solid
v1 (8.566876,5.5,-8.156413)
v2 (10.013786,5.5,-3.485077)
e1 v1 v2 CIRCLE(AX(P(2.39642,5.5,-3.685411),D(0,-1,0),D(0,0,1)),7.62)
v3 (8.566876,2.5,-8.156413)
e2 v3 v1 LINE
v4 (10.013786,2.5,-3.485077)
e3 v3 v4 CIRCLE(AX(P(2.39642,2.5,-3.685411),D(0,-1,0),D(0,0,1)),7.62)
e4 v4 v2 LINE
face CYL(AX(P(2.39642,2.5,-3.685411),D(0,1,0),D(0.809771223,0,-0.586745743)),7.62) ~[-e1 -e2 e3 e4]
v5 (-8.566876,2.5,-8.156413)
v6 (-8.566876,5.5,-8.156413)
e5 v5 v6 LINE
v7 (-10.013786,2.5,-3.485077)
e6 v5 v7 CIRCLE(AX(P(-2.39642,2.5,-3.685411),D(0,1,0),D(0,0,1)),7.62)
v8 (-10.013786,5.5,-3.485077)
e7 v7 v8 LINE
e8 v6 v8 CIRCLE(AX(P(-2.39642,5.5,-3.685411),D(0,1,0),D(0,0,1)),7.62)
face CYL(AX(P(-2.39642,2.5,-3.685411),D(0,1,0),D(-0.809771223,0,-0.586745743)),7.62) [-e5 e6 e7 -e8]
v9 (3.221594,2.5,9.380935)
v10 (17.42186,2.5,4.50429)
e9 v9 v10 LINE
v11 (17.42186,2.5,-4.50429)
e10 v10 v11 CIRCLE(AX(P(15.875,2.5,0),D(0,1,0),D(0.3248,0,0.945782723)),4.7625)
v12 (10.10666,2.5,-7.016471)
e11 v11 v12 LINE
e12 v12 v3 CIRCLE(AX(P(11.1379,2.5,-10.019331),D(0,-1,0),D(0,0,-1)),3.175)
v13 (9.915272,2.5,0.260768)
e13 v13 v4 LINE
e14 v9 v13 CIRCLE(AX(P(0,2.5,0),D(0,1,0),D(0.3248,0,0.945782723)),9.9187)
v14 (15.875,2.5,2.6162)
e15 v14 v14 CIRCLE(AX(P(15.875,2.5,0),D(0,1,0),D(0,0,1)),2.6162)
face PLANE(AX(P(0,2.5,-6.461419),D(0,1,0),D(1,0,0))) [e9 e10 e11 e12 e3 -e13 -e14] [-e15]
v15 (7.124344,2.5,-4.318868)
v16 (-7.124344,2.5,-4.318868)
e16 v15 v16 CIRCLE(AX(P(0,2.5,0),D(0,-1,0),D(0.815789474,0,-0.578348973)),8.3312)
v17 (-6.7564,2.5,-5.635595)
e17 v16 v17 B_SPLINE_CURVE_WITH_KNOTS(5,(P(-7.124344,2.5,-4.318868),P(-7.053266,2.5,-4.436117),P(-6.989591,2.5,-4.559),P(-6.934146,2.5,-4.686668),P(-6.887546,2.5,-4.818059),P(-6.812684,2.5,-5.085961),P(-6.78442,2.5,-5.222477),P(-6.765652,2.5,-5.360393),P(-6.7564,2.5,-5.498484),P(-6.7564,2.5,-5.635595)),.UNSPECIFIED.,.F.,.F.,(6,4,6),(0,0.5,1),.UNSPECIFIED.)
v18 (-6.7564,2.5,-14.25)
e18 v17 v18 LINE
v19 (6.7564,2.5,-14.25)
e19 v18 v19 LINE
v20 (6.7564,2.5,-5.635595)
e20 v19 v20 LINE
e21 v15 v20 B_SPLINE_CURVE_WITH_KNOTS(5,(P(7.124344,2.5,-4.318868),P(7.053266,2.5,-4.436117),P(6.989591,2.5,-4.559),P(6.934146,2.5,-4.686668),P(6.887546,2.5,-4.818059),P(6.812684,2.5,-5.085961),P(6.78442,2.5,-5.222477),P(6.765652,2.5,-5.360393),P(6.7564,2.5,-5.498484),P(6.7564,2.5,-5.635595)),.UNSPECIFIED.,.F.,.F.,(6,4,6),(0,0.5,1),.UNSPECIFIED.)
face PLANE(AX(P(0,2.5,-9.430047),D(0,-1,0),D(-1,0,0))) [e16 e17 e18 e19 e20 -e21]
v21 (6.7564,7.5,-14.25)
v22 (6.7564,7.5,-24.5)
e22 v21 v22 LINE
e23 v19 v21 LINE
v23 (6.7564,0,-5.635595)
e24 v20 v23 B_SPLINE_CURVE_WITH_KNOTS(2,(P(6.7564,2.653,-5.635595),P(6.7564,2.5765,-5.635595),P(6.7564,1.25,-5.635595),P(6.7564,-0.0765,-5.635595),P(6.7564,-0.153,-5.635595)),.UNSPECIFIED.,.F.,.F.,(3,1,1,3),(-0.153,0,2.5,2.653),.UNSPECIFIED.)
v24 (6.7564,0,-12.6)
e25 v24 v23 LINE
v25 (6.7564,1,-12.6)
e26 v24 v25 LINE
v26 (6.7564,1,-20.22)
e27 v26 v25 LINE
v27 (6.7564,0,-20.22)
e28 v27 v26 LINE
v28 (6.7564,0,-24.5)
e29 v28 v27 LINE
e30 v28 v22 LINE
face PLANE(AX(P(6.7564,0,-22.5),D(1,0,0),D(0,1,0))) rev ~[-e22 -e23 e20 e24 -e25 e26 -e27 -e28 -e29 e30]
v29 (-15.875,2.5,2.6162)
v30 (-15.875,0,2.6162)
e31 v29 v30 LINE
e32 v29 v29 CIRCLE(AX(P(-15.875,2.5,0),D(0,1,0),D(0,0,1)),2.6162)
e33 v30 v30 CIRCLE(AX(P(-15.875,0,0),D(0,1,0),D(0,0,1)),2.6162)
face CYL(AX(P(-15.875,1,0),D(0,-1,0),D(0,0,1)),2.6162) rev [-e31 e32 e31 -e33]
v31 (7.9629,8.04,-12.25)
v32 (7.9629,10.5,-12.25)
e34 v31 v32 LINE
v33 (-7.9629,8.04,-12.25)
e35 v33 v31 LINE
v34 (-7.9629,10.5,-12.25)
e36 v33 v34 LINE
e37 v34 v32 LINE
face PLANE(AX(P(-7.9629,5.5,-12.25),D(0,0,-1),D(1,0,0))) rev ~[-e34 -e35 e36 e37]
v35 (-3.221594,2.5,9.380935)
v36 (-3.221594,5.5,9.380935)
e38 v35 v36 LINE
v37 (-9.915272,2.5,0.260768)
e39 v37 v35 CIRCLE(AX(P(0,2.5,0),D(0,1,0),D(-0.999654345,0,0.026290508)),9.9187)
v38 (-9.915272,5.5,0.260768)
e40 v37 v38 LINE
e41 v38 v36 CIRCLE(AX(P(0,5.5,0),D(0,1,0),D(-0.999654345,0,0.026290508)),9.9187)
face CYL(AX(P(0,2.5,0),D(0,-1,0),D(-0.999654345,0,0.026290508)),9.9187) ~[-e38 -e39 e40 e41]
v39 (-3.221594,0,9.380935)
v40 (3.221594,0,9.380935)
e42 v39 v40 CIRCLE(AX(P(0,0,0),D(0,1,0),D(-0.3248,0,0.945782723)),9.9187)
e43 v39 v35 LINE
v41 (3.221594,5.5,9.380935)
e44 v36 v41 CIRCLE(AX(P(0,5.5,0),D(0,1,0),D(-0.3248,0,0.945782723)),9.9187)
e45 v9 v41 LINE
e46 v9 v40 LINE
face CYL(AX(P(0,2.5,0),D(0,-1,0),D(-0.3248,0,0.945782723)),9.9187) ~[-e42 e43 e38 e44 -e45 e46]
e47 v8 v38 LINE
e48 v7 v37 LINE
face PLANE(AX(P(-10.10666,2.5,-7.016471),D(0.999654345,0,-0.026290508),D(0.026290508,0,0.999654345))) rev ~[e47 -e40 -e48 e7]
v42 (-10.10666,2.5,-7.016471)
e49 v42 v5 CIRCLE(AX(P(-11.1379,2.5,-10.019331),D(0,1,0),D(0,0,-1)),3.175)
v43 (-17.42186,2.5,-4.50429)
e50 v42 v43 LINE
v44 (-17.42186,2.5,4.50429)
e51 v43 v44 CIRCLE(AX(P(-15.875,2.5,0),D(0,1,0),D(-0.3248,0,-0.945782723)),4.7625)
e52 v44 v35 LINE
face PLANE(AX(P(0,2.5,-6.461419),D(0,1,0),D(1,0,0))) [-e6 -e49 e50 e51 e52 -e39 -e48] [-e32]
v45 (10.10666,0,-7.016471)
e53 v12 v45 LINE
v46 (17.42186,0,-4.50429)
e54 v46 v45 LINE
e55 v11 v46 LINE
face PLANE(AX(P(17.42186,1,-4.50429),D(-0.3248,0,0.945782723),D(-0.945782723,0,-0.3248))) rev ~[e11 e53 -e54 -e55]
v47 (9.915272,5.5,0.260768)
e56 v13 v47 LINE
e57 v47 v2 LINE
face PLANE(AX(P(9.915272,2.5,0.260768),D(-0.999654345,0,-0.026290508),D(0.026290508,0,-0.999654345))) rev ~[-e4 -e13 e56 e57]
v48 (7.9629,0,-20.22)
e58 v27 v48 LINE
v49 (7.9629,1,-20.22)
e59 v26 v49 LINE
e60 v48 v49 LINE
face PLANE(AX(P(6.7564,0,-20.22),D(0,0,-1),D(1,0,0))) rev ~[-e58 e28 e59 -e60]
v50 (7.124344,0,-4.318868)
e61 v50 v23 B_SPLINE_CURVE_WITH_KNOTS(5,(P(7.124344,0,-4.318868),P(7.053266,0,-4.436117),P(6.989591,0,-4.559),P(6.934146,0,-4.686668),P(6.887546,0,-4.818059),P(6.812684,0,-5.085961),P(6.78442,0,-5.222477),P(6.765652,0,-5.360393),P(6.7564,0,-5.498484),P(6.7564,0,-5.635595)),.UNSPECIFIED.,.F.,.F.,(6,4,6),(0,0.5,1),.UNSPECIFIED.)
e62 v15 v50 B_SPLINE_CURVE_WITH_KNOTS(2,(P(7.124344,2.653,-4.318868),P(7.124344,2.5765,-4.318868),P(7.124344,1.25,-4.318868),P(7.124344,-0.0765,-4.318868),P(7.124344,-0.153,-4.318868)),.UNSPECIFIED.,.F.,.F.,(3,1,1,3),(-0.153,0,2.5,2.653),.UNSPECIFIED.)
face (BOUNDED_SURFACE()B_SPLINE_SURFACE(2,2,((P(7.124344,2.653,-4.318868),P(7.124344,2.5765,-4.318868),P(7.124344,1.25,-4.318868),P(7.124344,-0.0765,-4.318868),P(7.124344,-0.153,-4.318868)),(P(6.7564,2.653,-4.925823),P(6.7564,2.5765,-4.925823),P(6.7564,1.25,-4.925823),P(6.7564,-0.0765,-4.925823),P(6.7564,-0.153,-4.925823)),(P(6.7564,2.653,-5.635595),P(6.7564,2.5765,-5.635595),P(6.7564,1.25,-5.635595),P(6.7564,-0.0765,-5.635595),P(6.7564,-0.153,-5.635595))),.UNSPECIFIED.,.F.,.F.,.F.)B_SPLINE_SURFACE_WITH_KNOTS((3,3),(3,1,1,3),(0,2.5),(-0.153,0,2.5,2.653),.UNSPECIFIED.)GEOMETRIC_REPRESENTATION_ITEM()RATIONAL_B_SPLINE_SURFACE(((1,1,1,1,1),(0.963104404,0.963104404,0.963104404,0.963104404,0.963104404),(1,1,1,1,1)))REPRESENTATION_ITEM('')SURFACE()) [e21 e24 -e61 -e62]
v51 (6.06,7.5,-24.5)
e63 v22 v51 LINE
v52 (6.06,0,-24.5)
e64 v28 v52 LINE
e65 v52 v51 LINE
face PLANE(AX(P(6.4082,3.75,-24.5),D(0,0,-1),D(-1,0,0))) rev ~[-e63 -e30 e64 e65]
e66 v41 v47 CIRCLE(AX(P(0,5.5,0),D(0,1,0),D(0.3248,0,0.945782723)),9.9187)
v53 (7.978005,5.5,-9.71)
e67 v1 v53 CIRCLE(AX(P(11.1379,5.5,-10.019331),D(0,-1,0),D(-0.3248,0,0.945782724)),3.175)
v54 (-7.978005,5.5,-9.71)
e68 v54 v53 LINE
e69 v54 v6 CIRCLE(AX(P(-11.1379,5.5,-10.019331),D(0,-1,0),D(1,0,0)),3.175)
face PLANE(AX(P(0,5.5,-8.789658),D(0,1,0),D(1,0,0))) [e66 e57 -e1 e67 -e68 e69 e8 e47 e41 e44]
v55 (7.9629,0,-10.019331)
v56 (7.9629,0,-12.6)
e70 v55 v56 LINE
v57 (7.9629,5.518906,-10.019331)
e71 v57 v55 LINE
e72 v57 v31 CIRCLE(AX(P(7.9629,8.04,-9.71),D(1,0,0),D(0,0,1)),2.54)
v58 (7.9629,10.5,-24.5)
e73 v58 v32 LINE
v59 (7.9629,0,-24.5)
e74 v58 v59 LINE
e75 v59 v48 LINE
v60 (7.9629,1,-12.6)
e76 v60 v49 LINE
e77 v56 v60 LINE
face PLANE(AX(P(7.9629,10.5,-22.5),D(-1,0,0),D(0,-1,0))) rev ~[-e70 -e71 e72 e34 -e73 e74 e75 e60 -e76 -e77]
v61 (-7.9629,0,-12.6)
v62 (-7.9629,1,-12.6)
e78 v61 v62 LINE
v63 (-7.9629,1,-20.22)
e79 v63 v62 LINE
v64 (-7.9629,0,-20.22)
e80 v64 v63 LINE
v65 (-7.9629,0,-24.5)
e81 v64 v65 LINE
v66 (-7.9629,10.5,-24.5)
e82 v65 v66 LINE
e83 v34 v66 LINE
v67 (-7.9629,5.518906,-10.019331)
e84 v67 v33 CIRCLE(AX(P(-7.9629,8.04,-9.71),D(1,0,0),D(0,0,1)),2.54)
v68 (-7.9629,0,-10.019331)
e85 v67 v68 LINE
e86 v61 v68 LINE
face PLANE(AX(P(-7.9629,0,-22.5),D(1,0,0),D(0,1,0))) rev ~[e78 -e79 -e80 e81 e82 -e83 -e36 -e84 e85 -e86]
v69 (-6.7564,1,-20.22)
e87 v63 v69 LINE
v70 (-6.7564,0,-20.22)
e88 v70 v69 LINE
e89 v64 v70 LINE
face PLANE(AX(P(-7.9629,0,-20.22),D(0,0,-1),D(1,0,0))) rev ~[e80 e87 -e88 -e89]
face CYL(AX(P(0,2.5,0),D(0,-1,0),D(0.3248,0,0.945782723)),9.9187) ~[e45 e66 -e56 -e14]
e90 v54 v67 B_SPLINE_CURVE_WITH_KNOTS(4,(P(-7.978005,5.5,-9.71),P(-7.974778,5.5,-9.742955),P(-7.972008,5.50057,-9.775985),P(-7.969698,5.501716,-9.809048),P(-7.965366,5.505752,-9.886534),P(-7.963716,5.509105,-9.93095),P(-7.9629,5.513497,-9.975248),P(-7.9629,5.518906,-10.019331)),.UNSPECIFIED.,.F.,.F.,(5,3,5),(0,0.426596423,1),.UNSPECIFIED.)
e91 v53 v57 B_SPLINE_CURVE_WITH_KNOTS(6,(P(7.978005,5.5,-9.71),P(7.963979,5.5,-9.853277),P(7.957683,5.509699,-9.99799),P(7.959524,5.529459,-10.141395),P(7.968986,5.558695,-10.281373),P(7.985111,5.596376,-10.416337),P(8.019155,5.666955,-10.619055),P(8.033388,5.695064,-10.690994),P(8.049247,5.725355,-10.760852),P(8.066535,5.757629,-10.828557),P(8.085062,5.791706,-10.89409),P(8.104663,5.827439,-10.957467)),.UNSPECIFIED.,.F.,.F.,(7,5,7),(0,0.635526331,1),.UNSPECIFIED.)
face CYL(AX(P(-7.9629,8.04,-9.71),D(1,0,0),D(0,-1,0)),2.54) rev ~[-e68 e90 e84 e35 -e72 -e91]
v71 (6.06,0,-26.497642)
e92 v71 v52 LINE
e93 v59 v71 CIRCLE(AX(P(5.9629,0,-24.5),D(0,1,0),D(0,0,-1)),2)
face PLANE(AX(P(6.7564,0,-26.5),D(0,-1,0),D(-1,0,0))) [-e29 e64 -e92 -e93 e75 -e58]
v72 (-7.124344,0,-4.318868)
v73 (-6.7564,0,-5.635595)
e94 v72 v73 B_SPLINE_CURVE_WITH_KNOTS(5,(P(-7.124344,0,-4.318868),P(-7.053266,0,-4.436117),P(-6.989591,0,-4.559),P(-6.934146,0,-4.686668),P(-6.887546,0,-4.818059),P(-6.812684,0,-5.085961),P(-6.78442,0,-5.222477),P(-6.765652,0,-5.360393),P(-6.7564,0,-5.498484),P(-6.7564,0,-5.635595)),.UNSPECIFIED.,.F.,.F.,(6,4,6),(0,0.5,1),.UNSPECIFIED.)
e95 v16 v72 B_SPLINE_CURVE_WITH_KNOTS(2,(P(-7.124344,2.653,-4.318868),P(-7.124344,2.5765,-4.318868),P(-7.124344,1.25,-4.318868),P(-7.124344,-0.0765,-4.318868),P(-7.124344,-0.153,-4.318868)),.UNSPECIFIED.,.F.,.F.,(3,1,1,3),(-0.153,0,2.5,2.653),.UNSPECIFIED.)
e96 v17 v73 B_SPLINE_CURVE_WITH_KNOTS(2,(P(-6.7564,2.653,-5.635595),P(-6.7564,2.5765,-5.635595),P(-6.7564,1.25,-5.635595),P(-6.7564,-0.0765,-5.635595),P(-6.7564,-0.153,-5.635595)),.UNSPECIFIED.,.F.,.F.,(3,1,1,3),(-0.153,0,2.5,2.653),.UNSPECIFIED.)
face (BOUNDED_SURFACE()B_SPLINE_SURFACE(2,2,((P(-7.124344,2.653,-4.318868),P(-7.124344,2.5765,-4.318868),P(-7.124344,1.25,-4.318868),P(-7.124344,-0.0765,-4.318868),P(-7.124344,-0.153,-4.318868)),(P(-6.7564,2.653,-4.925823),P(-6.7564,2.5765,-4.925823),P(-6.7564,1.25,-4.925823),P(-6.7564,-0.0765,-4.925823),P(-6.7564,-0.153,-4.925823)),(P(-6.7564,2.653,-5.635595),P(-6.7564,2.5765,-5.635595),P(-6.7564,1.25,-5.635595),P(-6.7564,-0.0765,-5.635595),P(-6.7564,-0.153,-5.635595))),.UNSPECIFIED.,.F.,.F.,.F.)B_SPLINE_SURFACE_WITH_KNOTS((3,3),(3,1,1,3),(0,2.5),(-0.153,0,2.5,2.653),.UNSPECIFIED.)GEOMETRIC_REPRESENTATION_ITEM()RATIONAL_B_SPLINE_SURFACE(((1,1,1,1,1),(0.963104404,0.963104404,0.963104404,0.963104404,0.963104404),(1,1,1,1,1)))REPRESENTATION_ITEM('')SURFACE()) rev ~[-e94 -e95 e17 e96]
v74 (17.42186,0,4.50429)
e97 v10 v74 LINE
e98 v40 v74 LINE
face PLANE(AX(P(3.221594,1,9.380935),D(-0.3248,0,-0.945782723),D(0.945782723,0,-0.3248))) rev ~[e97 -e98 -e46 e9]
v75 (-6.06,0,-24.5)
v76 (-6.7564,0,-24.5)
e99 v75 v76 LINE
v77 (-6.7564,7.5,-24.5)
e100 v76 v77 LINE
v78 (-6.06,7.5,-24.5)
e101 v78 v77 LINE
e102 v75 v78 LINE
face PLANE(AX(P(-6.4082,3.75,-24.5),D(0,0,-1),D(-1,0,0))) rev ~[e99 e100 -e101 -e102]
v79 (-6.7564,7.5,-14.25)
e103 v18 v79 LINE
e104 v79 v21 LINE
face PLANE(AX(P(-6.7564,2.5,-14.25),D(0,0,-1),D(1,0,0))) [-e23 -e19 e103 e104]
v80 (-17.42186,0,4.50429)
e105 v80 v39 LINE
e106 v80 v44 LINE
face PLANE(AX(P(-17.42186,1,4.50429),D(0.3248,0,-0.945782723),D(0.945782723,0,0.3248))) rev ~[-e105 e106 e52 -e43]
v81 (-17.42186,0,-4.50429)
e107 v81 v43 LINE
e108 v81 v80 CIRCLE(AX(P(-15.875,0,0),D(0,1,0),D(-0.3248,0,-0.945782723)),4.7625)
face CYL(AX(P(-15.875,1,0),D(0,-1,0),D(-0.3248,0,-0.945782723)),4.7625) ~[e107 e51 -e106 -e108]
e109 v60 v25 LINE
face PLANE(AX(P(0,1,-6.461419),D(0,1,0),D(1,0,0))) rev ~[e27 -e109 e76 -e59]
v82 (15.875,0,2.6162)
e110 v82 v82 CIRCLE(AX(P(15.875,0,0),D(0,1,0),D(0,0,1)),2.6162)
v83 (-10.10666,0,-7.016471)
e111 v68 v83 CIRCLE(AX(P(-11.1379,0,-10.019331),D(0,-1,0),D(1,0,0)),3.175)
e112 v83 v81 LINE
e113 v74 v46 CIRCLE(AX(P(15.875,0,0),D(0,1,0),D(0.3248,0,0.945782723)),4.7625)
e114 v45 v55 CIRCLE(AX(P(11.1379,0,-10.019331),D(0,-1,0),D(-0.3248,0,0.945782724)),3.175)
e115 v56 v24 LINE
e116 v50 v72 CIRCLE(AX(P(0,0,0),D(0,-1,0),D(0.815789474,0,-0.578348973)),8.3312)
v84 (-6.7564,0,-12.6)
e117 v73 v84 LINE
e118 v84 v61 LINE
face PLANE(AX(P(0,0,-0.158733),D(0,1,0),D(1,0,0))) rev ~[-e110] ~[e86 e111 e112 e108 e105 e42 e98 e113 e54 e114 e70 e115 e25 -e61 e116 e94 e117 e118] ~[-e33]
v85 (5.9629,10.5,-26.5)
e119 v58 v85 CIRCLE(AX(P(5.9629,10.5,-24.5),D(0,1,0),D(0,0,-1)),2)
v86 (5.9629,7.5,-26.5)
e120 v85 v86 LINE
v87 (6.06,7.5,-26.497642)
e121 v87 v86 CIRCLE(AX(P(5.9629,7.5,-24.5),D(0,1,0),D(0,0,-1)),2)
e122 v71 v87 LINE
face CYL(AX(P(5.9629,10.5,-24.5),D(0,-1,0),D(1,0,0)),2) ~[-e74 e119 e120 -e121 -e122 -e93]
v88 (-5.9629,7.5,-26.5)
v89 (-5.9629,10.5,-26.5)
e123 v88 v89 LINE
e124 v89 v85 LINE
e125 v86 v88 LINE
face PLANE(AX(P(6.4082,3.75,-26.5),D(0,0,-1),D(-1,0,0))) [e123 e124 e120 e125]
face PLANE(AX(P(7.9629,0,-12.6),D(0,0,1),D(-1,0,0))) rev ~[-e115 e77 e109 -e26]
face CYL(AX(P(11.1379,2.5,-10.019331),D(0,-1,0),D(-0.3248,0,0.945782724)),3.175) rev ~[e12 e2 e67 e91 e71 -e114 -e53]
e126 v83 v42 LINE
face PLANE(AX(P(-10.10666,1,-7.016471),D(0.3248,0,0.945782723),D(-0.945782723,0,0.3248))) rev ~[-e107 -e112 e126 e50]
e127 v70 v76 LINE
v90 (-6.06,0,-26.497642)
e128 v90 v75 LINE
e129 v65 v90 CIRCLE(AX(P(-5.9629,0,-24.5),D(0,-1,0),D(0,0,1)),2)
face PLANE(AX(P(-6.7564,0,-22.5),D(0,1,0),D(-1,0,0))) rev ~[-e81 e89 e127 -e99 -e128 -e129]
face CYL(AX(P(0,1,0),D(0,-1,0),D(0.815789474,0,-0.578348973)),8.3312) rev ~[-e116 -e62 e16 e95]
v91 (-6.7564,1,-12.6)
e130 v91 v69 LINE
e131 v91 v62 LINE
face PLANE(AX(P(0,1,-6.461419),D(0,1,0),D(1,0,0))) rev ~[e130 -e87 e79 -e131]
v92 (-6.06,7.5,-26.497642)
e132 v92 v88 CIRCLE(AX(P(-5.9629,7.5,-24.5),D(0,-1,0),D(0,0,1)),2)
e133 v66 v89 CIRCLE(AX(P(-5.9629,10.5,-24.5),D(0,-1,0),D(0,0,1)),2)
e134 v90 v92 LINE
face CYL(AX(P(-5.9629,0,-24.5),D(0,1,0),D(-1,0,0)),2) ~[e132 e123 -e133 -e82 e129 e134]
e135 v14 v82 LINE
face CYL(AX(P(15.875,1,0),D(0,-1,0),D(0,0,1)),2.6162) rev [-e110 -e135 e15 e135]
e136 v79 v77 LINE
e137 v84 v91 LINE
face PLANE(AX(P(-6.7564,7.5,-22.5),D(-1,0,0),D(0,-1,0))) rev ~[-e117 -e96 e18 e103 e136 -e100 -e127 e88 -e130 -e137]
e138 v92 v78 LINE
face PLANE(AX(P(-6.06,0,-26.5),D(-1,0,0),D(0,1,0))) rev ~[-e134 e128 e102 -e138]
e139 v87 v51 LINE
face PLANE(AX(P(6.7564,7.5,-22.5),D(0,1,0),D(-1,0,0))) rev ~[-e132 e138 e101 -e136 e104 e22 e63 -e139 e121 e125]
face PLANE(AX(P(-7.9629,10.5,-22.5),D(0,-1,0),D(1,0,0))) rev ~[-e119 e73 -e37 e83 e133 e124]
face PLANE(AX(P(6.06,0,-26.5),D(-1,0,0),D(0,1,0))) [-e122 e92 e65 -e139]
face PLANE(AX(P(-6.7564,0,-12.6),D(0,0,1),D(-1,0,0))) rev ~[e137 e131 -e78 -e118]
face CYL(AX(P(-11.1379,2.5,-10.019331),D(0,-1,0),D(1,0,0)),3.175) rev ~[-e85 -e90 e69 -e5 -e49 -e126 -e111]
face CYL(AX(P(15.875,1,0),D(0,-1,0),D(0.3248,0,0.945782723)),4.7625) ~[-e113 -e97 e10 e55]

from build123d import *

# Parameters (mm, degrees)
BOSS_EXTRUDE1_DEPTH   = 1
SKETCH3_R             = 2.6162
BOSS_EXTRUDE1_2_DEPTH = 1
SKETCH4_R             = 2.6162
BOSS_EXTRUDE2_DEPTH   = 1.5
BOSS_EXTRUDE3_DEPTH   = 3
SKETCH6_W             = 15.9258
SKETCH6_H             = 13.25
BOSS_EXTRUDE4_DEPTH   = 5
SKETCH7_W             = 13.5128
SKETCH7_H             = 10
CUT_EXTRUDE1_DEPTH    = 5
FILLET1_R             = 2.54
FILLET2_R             = 2.54
FILLET3_R             = 7.62
FILLET5_R             = 2.54
SKETCH8_W             = 15.9258
SKETCH8_H             = 10.5
CUT_EXTRUDE2_DEPTH    = 3
BOSS_EXTRUDE5_DEPTH   = 4
SKETCH10_W            = 0.6964
SKETCH10_H            = 7.5
BOSS_EXTRUDE6_DEPTH   = 2
FILLET8_R             = 2


with BuildPart() as part:
    # Sketch3 → Boss-Extrude1 (new body)
    with BuildSketch(Plane(origin=(0, 0, 0), x_dir=(1, 0, 0), z_dir=(0, 1, 0))):
        Polygon((6.7564, 24.25), (6.7564, 20.22), (7.9629, 20.22), (7.9629, 25.5), (-7.9629, 25.5), (-7.9629, 20.22), (-6.7564, 20.22), (-6.7564, 24.25), align=None)
    extrude(amount=BOSS_EXTRUDE1_DEPTH)



with BuildPart() as body_2:
    # Sketch3 → Boss-Extrude1 2 (new body)
    with BuildSketch(Plane(origin=(0, 0, 0), x_dir=(1, 0, 0), z_dir=(0, 1, 0))):
        with BuildLine():
            Line((6.7564, 12.6), (6.7564, 4.876812672))
            ThreePointArc((6.7564, 4.876812672), (6.776225919, 4.847421317), (6.796505263, 4.818340964))
            ThreePointArc((6.796505263, 4.818340964), (0, -8.3312), (-6.796505263, 4.818340964))
            ThreePointArc((-6.796505263, 4.818340964), (-6.776225919, 4.847421317), (-6.7564, 4.876812672))
            Line((-6.7564, 4.876812672), (-6.7564, 12.6))
            Line((-6.7564, 12.6), (-7.9629, 12.6))
            Line((-7.9629, 12.6), (-7.9629, 10.019330915))
            ThreePointArc((-7.9629, 10.019330915), (-8.553832276, 8.174549356), (-10.10666, 7.016470768))
            Line((-10.10666, 7.016470768), (-17.42186, 4.50429022))
            ThreePointArc((-17.42186, 4.50429022), (-20.6375, 0), (-17.42186, -4.50429022))
            Line((-17.42186, -4.50429022), (-3.22159376, -9.380935099))
            ThreePointArc((-3.22159376, -9.380935099), (0, -9.9187), (3.22159376, -9.380935099))
            Line((3.22159376, -9.380935099), (17.42186, -4.50429022))
            ThreePointArc((17.42186, -4.50429022), (20.6375, 0), (17.42186, 4.50429022))
            Line((17.42186, 4.50429022), (10.10666, 7.016470768))
            ThreePointArc((10.10666, 7.016470768), (8.553832276, 8.174549356), (7.9629, 10.019330915))
            Line((7.9629, 10.019330915), (7.9629, 12.6))
            Line((7.9629, 12.6), (6.7564, 12.6))
        make_face()
        with Locations(Location((-15.875, 0, 0), (0, 0, 270))):
            Circle(SKETCH3_R, mode=Mode.SUBTRACT)
        with Locations(Location((15.875, 0, 0), (0, 0, 270))):
            Circle(SKETCH3_R, mode=Mode.SUBTRACT)
    extrude(amount=BOSS_EXTRUDE1_2_DEPTH)


with BuildPart() as part_1:
    add(part.part)

    add(body_2.part)  # Boss-Extrude2 merges body 2
    # Sketch4 → Boss-Extrude2 (add)
    with BuildSketch(Plane(origin=(0, 1, 0), x_dir=(1, 0, 0), z_dir=(0, 1, 0))):
        with BuildLine():
            Line((7.9629, 20.22), (7.9629, 25.5))
            Line((7.9629, 25.5), (-7.9629, 25.5))
            Line((-7.9629, 25.5), (-7.9629, 20.22))
            Line((-7.9629, 20.22), (-7.9629, 12.6))
            Line((-7.9629, 12.6), (-7.9629, 10.019330915))
            ThreePointArc((-7.9629, 10.019330915), (-8.553832276, 8.174549356), (-10.10666, 7.016470768))
            Line((-10.10666, 7.016470768), (-17.42186, 4.50429022))
            ThreePointArc((-17.42186, 4.50429022), (-20.6375, 0), (-17.42186, -4.50429022))
            Line((-17.42186, -4.50429022), (-3.22159376, -9.380935099))
            ThreePointArc((-3.22159376, -9.380935099), (0, -9.9187), (3.22159376, -9.380935099))
            Line((3.22159376, -9.380935099), (17.42186, -4.50429022))
            ThreePointArc((17.42186, -4.50429022), (20.6375, 0), (17.42186, 4.50429022))
            Line((17.42186, 4.50429022), (10.10666, 7.016470768))
            ThreePointArc((10.10666, 7.016470768), (8.553832276, 8.174549356), (7.9629, 10.019330915))
            Line((7.9629, 10.019330915), (7.9629, 12.6))
            Line((7.9629, 12.6), (7.9629, 20.22))
        make_face()
        with Locations(Location((15.875, 0, 0), (0, 0, 270))):
            Circle(SKETCH4_R, mode=Mode.SUBTRACT)
        with Locations(Location((-15.875, 0, 0), (0, 0, 270))):
            Circle(SKETCH4_R, mode=Mode.SUBTRACT)
        with BuildLine():
            Line((-6.7564, 24.25), (6.7564, 24.25))
            Line((6.7564, 24.25), (6.7564, 20.22))
            Line((6.7564, 20.22), (6.7564, 12.6))
            Line((6.7564, 12.6), (6.7564, 4.876812672))
            ThreePointArc((6.7564, 4.876812672), (6.776225919, 4.847421317), (6.796505263, 4.818340964))
            ThreePointArc((6.796505263, 4.818340964), (0, -8.3312), (-6.796505263, 4.818340964))
            ThreePointArc((-6.796505263, 4.818340964), (-6.776225919, 4.847421317), (-6.7564, 4.876812672))
            Line((-6.7564, 4.876812672), (-6.7564, 12.6))
            Line((-6.7564, 12.6), (-6.7564, 20.22))
            Line((-6.7564, 20.22), (-6.7564, 24.25))
        make_face(mode=Mode.SUBTRACT)
    extrude(amount=BOSS_EXTRUDE2_DEPTH)

    # Sketch5 → Boss-Extrude3 (add)
    # profile 1 of 2: a face of its own
    with BuildSketch(Plane(origin=(0, 2.5, 0), x_dir=(1, 0, 0), z_dir=(0, 1, 0))):
        with BuildLine():
            Line((-10.10666, 7.016470768), (-9.91527155, -0.260767662))
            ThreePointArc((-9.91527155, -0.260767662), (-7.996166023, -5.868725468), (-3.22159376, -9.380935099))
            ThreePointArc((-3.22159376, -9.380935099), (0, -9.9187), (3.22159376, -9.380935099))
            ThreePointArc((3.22159376, -9.380935099), (7.996166023, -5.868725468), (9.91527155, -0.260767662))
            Line((9.91527155, -0.260767662), (10.10666, 7.016470768))
            ThreePointArc((10.10666, 7.016470768), (8.553832276, 8.174549356), (7.9629, 10.019330915))
            Line((7.9629, 10.019330915), (7.9629, 25.5))
            Line((7.9629, 25.5), (-7.9629, 25.5))
            Line((-7.9629, 25.5), (-7.9629, 10.019330915))
            ThreePointArc((-7.9629, 10.019330915), (-8.553832276, 8.174549356), (-10.10666, 7.016470768))
        make_face()
        with BuildLine():
            Line((-6.7564, 4.876812672), (-6.7564, 24.25))
            Line((-6.7564, 24.25), (6.7564, 24.25))
            Line((6.7564, 24.25), (6.7564, 4.876812672))
            ThreePointArc((6.7564, 4.876812672), (6.776225919, 4.847421317), (6.796505263, 4.818340964))
            ThreePointArc((6.796505263, 4.818340964), (0, -8.3312), (-6.796505263, 4.818340964))
            ThreePointArc((-6.796505263, 4.818340964), (-6.776225919, 4.847421317), (-6.7564, 4.876812672))
        make_face(mode=Mode.SUBTRACT)
    # profile 2 of 2: a face of its own
    with BuildSketch(Plane(origin=(0, 2.5, 0), x_dir=(1, 0, 0), z_dir=(0, 1, 0))):
        with BuildLine():
            ThreePointArc((-6.796505263, 4.818340964), (-6.776225919, 4.847421317), (-6.7564, 4.876812672))
            Line((-6.7564, 4.876812672), (-6.7564, 24.25))
            Line((-6.7564, 24.25), (6.7564, 24.25))
            Line((6.7564, 24.25), (6.7564, 4.876812672))
            ThreePointArc((6.7564, 4.876812672), (6.776225919, 4.847421317), (6.796505263, 4.818340964))
            ThreePointArc((6.796505263, 4.818340964), (0, -8.3312), (-6.796505263, 4.818340964))
        make_face()
    extrude(amount=BOSS_EXTRUDE3_DEPTH)

    # Sketch6 → Boss-Extrude4 (add)
    with BuildSketch(Plane(origin=(0, 5.5, 0), x_dir=(1, 0, 0), z_dir=(0, 1, 0))):
        with Locations((0, 18.875)):
            Rectangle(SKETCH6_W, SKETCH6_H)
    extrude(amount=BOSS_EXTRUDE4_DEPTH)

    # Sketch7 → Cut-Extrude1 (cut)
    with BuildSketch(Plane.XZ.offset(-2.5)):
        with Locations((0, -19.25)):
            Rectangle(SKETCH7_W, SKETCH7_H)
    extrude(amount=-CUT_EXTRUDE1_DEPTH, mode=Mode.SUBTRACT)

    # Fillet1
    fillet1_edges = [part_1.edges().sort_by_distance(p)[0] for p in [
        (-6.7564, 1.25, -4.876812672),
    ]]
    fillet(fillet1_edges, radius=FILLET1_R)

    # Fillet2
    fillet2_edges = [part_1.edges().sort_by_distance(p)[0] for p in [
        (6.7564, 1.25, -4.876812672),
    ]]
    fillet(fillet2_edges, radius=FILLET2_R)

    # Fillet3
    fillet3_edges = [part_1.edges().sort_by_distance(p)[0] for p in [
        (10.10666, 4, -7.016470768),
        (-10.10666, 4, -7.016470768),
    ]]
    fillet(fillet3_edges, radius=FILLET3_R)

    # Fillet5
    fillet5_edges = [part_1.edges().sort_by_distance(p)[0] for p in [
        (0, 5.5, -12.25),
    ]]
    fillet(fillet5_edges, radius=FILLET5_R)

    # Sketch8 → Cut-Extrude2 (cut)
    with BuildSketch(Plane(origin=(0, 0, -25.5), x_dir=(-1, 0, 0), z_dir=(0, 0, -1))):
        with Locations((0, 5.25)):
            Rectangle(SKETCH8_W, SKETCH8_H)
    extrude(amount=-CUT_EXTRUDE2_DEPTH, mode=Mode.SUBTRACT)

    # Sketch9 → Boss-Extrude5 (add)
    with BuildSketch(Plane(origin=(0, 0, -22.5), x_dir=(-1, 0, 0), z_dir=(0, 0, -1))):
        Polygon((-6.7564, 0), (-6.7564, 7.5), (6.7564, 7.5), (6.7564, 0), (7.9629, 0), (7.9629, 10.5), (-7.9629, 10.5), (-7.9629, 0), align=None)
    extrude(amount=BOSS_EXTRUDE5_DEPTH)

    # Sketch10 → Boss-Extrude6 (add)
    with BuildSketch(Plane(origin=(0, 0, -26.5), x_dir=(-1, 0, 0), z_dir=(0, 0, -1))):
        with Locations((-6.4082, 3.75)):
            Rectangle(SKETCH10_W, SKETCH10_H)
        with Locations((6.4082, 3.75)):
            Rectangle(SKETCH10_W, SKETCH10_H)
    extrude(amount=-BOSS_EXTRUDE6_DEPTH)

    # Fillet8
    fillet8_edges = [part_1.edges().sort_by_distance(p)[0] for p in [
        (-7.9629, 5.25, -26.5),
        (7.9629, 5.25, -26.5),
    ]]
    fillet(fillet8_edges, radius=FILLET8_R)


solid = part_1.part
